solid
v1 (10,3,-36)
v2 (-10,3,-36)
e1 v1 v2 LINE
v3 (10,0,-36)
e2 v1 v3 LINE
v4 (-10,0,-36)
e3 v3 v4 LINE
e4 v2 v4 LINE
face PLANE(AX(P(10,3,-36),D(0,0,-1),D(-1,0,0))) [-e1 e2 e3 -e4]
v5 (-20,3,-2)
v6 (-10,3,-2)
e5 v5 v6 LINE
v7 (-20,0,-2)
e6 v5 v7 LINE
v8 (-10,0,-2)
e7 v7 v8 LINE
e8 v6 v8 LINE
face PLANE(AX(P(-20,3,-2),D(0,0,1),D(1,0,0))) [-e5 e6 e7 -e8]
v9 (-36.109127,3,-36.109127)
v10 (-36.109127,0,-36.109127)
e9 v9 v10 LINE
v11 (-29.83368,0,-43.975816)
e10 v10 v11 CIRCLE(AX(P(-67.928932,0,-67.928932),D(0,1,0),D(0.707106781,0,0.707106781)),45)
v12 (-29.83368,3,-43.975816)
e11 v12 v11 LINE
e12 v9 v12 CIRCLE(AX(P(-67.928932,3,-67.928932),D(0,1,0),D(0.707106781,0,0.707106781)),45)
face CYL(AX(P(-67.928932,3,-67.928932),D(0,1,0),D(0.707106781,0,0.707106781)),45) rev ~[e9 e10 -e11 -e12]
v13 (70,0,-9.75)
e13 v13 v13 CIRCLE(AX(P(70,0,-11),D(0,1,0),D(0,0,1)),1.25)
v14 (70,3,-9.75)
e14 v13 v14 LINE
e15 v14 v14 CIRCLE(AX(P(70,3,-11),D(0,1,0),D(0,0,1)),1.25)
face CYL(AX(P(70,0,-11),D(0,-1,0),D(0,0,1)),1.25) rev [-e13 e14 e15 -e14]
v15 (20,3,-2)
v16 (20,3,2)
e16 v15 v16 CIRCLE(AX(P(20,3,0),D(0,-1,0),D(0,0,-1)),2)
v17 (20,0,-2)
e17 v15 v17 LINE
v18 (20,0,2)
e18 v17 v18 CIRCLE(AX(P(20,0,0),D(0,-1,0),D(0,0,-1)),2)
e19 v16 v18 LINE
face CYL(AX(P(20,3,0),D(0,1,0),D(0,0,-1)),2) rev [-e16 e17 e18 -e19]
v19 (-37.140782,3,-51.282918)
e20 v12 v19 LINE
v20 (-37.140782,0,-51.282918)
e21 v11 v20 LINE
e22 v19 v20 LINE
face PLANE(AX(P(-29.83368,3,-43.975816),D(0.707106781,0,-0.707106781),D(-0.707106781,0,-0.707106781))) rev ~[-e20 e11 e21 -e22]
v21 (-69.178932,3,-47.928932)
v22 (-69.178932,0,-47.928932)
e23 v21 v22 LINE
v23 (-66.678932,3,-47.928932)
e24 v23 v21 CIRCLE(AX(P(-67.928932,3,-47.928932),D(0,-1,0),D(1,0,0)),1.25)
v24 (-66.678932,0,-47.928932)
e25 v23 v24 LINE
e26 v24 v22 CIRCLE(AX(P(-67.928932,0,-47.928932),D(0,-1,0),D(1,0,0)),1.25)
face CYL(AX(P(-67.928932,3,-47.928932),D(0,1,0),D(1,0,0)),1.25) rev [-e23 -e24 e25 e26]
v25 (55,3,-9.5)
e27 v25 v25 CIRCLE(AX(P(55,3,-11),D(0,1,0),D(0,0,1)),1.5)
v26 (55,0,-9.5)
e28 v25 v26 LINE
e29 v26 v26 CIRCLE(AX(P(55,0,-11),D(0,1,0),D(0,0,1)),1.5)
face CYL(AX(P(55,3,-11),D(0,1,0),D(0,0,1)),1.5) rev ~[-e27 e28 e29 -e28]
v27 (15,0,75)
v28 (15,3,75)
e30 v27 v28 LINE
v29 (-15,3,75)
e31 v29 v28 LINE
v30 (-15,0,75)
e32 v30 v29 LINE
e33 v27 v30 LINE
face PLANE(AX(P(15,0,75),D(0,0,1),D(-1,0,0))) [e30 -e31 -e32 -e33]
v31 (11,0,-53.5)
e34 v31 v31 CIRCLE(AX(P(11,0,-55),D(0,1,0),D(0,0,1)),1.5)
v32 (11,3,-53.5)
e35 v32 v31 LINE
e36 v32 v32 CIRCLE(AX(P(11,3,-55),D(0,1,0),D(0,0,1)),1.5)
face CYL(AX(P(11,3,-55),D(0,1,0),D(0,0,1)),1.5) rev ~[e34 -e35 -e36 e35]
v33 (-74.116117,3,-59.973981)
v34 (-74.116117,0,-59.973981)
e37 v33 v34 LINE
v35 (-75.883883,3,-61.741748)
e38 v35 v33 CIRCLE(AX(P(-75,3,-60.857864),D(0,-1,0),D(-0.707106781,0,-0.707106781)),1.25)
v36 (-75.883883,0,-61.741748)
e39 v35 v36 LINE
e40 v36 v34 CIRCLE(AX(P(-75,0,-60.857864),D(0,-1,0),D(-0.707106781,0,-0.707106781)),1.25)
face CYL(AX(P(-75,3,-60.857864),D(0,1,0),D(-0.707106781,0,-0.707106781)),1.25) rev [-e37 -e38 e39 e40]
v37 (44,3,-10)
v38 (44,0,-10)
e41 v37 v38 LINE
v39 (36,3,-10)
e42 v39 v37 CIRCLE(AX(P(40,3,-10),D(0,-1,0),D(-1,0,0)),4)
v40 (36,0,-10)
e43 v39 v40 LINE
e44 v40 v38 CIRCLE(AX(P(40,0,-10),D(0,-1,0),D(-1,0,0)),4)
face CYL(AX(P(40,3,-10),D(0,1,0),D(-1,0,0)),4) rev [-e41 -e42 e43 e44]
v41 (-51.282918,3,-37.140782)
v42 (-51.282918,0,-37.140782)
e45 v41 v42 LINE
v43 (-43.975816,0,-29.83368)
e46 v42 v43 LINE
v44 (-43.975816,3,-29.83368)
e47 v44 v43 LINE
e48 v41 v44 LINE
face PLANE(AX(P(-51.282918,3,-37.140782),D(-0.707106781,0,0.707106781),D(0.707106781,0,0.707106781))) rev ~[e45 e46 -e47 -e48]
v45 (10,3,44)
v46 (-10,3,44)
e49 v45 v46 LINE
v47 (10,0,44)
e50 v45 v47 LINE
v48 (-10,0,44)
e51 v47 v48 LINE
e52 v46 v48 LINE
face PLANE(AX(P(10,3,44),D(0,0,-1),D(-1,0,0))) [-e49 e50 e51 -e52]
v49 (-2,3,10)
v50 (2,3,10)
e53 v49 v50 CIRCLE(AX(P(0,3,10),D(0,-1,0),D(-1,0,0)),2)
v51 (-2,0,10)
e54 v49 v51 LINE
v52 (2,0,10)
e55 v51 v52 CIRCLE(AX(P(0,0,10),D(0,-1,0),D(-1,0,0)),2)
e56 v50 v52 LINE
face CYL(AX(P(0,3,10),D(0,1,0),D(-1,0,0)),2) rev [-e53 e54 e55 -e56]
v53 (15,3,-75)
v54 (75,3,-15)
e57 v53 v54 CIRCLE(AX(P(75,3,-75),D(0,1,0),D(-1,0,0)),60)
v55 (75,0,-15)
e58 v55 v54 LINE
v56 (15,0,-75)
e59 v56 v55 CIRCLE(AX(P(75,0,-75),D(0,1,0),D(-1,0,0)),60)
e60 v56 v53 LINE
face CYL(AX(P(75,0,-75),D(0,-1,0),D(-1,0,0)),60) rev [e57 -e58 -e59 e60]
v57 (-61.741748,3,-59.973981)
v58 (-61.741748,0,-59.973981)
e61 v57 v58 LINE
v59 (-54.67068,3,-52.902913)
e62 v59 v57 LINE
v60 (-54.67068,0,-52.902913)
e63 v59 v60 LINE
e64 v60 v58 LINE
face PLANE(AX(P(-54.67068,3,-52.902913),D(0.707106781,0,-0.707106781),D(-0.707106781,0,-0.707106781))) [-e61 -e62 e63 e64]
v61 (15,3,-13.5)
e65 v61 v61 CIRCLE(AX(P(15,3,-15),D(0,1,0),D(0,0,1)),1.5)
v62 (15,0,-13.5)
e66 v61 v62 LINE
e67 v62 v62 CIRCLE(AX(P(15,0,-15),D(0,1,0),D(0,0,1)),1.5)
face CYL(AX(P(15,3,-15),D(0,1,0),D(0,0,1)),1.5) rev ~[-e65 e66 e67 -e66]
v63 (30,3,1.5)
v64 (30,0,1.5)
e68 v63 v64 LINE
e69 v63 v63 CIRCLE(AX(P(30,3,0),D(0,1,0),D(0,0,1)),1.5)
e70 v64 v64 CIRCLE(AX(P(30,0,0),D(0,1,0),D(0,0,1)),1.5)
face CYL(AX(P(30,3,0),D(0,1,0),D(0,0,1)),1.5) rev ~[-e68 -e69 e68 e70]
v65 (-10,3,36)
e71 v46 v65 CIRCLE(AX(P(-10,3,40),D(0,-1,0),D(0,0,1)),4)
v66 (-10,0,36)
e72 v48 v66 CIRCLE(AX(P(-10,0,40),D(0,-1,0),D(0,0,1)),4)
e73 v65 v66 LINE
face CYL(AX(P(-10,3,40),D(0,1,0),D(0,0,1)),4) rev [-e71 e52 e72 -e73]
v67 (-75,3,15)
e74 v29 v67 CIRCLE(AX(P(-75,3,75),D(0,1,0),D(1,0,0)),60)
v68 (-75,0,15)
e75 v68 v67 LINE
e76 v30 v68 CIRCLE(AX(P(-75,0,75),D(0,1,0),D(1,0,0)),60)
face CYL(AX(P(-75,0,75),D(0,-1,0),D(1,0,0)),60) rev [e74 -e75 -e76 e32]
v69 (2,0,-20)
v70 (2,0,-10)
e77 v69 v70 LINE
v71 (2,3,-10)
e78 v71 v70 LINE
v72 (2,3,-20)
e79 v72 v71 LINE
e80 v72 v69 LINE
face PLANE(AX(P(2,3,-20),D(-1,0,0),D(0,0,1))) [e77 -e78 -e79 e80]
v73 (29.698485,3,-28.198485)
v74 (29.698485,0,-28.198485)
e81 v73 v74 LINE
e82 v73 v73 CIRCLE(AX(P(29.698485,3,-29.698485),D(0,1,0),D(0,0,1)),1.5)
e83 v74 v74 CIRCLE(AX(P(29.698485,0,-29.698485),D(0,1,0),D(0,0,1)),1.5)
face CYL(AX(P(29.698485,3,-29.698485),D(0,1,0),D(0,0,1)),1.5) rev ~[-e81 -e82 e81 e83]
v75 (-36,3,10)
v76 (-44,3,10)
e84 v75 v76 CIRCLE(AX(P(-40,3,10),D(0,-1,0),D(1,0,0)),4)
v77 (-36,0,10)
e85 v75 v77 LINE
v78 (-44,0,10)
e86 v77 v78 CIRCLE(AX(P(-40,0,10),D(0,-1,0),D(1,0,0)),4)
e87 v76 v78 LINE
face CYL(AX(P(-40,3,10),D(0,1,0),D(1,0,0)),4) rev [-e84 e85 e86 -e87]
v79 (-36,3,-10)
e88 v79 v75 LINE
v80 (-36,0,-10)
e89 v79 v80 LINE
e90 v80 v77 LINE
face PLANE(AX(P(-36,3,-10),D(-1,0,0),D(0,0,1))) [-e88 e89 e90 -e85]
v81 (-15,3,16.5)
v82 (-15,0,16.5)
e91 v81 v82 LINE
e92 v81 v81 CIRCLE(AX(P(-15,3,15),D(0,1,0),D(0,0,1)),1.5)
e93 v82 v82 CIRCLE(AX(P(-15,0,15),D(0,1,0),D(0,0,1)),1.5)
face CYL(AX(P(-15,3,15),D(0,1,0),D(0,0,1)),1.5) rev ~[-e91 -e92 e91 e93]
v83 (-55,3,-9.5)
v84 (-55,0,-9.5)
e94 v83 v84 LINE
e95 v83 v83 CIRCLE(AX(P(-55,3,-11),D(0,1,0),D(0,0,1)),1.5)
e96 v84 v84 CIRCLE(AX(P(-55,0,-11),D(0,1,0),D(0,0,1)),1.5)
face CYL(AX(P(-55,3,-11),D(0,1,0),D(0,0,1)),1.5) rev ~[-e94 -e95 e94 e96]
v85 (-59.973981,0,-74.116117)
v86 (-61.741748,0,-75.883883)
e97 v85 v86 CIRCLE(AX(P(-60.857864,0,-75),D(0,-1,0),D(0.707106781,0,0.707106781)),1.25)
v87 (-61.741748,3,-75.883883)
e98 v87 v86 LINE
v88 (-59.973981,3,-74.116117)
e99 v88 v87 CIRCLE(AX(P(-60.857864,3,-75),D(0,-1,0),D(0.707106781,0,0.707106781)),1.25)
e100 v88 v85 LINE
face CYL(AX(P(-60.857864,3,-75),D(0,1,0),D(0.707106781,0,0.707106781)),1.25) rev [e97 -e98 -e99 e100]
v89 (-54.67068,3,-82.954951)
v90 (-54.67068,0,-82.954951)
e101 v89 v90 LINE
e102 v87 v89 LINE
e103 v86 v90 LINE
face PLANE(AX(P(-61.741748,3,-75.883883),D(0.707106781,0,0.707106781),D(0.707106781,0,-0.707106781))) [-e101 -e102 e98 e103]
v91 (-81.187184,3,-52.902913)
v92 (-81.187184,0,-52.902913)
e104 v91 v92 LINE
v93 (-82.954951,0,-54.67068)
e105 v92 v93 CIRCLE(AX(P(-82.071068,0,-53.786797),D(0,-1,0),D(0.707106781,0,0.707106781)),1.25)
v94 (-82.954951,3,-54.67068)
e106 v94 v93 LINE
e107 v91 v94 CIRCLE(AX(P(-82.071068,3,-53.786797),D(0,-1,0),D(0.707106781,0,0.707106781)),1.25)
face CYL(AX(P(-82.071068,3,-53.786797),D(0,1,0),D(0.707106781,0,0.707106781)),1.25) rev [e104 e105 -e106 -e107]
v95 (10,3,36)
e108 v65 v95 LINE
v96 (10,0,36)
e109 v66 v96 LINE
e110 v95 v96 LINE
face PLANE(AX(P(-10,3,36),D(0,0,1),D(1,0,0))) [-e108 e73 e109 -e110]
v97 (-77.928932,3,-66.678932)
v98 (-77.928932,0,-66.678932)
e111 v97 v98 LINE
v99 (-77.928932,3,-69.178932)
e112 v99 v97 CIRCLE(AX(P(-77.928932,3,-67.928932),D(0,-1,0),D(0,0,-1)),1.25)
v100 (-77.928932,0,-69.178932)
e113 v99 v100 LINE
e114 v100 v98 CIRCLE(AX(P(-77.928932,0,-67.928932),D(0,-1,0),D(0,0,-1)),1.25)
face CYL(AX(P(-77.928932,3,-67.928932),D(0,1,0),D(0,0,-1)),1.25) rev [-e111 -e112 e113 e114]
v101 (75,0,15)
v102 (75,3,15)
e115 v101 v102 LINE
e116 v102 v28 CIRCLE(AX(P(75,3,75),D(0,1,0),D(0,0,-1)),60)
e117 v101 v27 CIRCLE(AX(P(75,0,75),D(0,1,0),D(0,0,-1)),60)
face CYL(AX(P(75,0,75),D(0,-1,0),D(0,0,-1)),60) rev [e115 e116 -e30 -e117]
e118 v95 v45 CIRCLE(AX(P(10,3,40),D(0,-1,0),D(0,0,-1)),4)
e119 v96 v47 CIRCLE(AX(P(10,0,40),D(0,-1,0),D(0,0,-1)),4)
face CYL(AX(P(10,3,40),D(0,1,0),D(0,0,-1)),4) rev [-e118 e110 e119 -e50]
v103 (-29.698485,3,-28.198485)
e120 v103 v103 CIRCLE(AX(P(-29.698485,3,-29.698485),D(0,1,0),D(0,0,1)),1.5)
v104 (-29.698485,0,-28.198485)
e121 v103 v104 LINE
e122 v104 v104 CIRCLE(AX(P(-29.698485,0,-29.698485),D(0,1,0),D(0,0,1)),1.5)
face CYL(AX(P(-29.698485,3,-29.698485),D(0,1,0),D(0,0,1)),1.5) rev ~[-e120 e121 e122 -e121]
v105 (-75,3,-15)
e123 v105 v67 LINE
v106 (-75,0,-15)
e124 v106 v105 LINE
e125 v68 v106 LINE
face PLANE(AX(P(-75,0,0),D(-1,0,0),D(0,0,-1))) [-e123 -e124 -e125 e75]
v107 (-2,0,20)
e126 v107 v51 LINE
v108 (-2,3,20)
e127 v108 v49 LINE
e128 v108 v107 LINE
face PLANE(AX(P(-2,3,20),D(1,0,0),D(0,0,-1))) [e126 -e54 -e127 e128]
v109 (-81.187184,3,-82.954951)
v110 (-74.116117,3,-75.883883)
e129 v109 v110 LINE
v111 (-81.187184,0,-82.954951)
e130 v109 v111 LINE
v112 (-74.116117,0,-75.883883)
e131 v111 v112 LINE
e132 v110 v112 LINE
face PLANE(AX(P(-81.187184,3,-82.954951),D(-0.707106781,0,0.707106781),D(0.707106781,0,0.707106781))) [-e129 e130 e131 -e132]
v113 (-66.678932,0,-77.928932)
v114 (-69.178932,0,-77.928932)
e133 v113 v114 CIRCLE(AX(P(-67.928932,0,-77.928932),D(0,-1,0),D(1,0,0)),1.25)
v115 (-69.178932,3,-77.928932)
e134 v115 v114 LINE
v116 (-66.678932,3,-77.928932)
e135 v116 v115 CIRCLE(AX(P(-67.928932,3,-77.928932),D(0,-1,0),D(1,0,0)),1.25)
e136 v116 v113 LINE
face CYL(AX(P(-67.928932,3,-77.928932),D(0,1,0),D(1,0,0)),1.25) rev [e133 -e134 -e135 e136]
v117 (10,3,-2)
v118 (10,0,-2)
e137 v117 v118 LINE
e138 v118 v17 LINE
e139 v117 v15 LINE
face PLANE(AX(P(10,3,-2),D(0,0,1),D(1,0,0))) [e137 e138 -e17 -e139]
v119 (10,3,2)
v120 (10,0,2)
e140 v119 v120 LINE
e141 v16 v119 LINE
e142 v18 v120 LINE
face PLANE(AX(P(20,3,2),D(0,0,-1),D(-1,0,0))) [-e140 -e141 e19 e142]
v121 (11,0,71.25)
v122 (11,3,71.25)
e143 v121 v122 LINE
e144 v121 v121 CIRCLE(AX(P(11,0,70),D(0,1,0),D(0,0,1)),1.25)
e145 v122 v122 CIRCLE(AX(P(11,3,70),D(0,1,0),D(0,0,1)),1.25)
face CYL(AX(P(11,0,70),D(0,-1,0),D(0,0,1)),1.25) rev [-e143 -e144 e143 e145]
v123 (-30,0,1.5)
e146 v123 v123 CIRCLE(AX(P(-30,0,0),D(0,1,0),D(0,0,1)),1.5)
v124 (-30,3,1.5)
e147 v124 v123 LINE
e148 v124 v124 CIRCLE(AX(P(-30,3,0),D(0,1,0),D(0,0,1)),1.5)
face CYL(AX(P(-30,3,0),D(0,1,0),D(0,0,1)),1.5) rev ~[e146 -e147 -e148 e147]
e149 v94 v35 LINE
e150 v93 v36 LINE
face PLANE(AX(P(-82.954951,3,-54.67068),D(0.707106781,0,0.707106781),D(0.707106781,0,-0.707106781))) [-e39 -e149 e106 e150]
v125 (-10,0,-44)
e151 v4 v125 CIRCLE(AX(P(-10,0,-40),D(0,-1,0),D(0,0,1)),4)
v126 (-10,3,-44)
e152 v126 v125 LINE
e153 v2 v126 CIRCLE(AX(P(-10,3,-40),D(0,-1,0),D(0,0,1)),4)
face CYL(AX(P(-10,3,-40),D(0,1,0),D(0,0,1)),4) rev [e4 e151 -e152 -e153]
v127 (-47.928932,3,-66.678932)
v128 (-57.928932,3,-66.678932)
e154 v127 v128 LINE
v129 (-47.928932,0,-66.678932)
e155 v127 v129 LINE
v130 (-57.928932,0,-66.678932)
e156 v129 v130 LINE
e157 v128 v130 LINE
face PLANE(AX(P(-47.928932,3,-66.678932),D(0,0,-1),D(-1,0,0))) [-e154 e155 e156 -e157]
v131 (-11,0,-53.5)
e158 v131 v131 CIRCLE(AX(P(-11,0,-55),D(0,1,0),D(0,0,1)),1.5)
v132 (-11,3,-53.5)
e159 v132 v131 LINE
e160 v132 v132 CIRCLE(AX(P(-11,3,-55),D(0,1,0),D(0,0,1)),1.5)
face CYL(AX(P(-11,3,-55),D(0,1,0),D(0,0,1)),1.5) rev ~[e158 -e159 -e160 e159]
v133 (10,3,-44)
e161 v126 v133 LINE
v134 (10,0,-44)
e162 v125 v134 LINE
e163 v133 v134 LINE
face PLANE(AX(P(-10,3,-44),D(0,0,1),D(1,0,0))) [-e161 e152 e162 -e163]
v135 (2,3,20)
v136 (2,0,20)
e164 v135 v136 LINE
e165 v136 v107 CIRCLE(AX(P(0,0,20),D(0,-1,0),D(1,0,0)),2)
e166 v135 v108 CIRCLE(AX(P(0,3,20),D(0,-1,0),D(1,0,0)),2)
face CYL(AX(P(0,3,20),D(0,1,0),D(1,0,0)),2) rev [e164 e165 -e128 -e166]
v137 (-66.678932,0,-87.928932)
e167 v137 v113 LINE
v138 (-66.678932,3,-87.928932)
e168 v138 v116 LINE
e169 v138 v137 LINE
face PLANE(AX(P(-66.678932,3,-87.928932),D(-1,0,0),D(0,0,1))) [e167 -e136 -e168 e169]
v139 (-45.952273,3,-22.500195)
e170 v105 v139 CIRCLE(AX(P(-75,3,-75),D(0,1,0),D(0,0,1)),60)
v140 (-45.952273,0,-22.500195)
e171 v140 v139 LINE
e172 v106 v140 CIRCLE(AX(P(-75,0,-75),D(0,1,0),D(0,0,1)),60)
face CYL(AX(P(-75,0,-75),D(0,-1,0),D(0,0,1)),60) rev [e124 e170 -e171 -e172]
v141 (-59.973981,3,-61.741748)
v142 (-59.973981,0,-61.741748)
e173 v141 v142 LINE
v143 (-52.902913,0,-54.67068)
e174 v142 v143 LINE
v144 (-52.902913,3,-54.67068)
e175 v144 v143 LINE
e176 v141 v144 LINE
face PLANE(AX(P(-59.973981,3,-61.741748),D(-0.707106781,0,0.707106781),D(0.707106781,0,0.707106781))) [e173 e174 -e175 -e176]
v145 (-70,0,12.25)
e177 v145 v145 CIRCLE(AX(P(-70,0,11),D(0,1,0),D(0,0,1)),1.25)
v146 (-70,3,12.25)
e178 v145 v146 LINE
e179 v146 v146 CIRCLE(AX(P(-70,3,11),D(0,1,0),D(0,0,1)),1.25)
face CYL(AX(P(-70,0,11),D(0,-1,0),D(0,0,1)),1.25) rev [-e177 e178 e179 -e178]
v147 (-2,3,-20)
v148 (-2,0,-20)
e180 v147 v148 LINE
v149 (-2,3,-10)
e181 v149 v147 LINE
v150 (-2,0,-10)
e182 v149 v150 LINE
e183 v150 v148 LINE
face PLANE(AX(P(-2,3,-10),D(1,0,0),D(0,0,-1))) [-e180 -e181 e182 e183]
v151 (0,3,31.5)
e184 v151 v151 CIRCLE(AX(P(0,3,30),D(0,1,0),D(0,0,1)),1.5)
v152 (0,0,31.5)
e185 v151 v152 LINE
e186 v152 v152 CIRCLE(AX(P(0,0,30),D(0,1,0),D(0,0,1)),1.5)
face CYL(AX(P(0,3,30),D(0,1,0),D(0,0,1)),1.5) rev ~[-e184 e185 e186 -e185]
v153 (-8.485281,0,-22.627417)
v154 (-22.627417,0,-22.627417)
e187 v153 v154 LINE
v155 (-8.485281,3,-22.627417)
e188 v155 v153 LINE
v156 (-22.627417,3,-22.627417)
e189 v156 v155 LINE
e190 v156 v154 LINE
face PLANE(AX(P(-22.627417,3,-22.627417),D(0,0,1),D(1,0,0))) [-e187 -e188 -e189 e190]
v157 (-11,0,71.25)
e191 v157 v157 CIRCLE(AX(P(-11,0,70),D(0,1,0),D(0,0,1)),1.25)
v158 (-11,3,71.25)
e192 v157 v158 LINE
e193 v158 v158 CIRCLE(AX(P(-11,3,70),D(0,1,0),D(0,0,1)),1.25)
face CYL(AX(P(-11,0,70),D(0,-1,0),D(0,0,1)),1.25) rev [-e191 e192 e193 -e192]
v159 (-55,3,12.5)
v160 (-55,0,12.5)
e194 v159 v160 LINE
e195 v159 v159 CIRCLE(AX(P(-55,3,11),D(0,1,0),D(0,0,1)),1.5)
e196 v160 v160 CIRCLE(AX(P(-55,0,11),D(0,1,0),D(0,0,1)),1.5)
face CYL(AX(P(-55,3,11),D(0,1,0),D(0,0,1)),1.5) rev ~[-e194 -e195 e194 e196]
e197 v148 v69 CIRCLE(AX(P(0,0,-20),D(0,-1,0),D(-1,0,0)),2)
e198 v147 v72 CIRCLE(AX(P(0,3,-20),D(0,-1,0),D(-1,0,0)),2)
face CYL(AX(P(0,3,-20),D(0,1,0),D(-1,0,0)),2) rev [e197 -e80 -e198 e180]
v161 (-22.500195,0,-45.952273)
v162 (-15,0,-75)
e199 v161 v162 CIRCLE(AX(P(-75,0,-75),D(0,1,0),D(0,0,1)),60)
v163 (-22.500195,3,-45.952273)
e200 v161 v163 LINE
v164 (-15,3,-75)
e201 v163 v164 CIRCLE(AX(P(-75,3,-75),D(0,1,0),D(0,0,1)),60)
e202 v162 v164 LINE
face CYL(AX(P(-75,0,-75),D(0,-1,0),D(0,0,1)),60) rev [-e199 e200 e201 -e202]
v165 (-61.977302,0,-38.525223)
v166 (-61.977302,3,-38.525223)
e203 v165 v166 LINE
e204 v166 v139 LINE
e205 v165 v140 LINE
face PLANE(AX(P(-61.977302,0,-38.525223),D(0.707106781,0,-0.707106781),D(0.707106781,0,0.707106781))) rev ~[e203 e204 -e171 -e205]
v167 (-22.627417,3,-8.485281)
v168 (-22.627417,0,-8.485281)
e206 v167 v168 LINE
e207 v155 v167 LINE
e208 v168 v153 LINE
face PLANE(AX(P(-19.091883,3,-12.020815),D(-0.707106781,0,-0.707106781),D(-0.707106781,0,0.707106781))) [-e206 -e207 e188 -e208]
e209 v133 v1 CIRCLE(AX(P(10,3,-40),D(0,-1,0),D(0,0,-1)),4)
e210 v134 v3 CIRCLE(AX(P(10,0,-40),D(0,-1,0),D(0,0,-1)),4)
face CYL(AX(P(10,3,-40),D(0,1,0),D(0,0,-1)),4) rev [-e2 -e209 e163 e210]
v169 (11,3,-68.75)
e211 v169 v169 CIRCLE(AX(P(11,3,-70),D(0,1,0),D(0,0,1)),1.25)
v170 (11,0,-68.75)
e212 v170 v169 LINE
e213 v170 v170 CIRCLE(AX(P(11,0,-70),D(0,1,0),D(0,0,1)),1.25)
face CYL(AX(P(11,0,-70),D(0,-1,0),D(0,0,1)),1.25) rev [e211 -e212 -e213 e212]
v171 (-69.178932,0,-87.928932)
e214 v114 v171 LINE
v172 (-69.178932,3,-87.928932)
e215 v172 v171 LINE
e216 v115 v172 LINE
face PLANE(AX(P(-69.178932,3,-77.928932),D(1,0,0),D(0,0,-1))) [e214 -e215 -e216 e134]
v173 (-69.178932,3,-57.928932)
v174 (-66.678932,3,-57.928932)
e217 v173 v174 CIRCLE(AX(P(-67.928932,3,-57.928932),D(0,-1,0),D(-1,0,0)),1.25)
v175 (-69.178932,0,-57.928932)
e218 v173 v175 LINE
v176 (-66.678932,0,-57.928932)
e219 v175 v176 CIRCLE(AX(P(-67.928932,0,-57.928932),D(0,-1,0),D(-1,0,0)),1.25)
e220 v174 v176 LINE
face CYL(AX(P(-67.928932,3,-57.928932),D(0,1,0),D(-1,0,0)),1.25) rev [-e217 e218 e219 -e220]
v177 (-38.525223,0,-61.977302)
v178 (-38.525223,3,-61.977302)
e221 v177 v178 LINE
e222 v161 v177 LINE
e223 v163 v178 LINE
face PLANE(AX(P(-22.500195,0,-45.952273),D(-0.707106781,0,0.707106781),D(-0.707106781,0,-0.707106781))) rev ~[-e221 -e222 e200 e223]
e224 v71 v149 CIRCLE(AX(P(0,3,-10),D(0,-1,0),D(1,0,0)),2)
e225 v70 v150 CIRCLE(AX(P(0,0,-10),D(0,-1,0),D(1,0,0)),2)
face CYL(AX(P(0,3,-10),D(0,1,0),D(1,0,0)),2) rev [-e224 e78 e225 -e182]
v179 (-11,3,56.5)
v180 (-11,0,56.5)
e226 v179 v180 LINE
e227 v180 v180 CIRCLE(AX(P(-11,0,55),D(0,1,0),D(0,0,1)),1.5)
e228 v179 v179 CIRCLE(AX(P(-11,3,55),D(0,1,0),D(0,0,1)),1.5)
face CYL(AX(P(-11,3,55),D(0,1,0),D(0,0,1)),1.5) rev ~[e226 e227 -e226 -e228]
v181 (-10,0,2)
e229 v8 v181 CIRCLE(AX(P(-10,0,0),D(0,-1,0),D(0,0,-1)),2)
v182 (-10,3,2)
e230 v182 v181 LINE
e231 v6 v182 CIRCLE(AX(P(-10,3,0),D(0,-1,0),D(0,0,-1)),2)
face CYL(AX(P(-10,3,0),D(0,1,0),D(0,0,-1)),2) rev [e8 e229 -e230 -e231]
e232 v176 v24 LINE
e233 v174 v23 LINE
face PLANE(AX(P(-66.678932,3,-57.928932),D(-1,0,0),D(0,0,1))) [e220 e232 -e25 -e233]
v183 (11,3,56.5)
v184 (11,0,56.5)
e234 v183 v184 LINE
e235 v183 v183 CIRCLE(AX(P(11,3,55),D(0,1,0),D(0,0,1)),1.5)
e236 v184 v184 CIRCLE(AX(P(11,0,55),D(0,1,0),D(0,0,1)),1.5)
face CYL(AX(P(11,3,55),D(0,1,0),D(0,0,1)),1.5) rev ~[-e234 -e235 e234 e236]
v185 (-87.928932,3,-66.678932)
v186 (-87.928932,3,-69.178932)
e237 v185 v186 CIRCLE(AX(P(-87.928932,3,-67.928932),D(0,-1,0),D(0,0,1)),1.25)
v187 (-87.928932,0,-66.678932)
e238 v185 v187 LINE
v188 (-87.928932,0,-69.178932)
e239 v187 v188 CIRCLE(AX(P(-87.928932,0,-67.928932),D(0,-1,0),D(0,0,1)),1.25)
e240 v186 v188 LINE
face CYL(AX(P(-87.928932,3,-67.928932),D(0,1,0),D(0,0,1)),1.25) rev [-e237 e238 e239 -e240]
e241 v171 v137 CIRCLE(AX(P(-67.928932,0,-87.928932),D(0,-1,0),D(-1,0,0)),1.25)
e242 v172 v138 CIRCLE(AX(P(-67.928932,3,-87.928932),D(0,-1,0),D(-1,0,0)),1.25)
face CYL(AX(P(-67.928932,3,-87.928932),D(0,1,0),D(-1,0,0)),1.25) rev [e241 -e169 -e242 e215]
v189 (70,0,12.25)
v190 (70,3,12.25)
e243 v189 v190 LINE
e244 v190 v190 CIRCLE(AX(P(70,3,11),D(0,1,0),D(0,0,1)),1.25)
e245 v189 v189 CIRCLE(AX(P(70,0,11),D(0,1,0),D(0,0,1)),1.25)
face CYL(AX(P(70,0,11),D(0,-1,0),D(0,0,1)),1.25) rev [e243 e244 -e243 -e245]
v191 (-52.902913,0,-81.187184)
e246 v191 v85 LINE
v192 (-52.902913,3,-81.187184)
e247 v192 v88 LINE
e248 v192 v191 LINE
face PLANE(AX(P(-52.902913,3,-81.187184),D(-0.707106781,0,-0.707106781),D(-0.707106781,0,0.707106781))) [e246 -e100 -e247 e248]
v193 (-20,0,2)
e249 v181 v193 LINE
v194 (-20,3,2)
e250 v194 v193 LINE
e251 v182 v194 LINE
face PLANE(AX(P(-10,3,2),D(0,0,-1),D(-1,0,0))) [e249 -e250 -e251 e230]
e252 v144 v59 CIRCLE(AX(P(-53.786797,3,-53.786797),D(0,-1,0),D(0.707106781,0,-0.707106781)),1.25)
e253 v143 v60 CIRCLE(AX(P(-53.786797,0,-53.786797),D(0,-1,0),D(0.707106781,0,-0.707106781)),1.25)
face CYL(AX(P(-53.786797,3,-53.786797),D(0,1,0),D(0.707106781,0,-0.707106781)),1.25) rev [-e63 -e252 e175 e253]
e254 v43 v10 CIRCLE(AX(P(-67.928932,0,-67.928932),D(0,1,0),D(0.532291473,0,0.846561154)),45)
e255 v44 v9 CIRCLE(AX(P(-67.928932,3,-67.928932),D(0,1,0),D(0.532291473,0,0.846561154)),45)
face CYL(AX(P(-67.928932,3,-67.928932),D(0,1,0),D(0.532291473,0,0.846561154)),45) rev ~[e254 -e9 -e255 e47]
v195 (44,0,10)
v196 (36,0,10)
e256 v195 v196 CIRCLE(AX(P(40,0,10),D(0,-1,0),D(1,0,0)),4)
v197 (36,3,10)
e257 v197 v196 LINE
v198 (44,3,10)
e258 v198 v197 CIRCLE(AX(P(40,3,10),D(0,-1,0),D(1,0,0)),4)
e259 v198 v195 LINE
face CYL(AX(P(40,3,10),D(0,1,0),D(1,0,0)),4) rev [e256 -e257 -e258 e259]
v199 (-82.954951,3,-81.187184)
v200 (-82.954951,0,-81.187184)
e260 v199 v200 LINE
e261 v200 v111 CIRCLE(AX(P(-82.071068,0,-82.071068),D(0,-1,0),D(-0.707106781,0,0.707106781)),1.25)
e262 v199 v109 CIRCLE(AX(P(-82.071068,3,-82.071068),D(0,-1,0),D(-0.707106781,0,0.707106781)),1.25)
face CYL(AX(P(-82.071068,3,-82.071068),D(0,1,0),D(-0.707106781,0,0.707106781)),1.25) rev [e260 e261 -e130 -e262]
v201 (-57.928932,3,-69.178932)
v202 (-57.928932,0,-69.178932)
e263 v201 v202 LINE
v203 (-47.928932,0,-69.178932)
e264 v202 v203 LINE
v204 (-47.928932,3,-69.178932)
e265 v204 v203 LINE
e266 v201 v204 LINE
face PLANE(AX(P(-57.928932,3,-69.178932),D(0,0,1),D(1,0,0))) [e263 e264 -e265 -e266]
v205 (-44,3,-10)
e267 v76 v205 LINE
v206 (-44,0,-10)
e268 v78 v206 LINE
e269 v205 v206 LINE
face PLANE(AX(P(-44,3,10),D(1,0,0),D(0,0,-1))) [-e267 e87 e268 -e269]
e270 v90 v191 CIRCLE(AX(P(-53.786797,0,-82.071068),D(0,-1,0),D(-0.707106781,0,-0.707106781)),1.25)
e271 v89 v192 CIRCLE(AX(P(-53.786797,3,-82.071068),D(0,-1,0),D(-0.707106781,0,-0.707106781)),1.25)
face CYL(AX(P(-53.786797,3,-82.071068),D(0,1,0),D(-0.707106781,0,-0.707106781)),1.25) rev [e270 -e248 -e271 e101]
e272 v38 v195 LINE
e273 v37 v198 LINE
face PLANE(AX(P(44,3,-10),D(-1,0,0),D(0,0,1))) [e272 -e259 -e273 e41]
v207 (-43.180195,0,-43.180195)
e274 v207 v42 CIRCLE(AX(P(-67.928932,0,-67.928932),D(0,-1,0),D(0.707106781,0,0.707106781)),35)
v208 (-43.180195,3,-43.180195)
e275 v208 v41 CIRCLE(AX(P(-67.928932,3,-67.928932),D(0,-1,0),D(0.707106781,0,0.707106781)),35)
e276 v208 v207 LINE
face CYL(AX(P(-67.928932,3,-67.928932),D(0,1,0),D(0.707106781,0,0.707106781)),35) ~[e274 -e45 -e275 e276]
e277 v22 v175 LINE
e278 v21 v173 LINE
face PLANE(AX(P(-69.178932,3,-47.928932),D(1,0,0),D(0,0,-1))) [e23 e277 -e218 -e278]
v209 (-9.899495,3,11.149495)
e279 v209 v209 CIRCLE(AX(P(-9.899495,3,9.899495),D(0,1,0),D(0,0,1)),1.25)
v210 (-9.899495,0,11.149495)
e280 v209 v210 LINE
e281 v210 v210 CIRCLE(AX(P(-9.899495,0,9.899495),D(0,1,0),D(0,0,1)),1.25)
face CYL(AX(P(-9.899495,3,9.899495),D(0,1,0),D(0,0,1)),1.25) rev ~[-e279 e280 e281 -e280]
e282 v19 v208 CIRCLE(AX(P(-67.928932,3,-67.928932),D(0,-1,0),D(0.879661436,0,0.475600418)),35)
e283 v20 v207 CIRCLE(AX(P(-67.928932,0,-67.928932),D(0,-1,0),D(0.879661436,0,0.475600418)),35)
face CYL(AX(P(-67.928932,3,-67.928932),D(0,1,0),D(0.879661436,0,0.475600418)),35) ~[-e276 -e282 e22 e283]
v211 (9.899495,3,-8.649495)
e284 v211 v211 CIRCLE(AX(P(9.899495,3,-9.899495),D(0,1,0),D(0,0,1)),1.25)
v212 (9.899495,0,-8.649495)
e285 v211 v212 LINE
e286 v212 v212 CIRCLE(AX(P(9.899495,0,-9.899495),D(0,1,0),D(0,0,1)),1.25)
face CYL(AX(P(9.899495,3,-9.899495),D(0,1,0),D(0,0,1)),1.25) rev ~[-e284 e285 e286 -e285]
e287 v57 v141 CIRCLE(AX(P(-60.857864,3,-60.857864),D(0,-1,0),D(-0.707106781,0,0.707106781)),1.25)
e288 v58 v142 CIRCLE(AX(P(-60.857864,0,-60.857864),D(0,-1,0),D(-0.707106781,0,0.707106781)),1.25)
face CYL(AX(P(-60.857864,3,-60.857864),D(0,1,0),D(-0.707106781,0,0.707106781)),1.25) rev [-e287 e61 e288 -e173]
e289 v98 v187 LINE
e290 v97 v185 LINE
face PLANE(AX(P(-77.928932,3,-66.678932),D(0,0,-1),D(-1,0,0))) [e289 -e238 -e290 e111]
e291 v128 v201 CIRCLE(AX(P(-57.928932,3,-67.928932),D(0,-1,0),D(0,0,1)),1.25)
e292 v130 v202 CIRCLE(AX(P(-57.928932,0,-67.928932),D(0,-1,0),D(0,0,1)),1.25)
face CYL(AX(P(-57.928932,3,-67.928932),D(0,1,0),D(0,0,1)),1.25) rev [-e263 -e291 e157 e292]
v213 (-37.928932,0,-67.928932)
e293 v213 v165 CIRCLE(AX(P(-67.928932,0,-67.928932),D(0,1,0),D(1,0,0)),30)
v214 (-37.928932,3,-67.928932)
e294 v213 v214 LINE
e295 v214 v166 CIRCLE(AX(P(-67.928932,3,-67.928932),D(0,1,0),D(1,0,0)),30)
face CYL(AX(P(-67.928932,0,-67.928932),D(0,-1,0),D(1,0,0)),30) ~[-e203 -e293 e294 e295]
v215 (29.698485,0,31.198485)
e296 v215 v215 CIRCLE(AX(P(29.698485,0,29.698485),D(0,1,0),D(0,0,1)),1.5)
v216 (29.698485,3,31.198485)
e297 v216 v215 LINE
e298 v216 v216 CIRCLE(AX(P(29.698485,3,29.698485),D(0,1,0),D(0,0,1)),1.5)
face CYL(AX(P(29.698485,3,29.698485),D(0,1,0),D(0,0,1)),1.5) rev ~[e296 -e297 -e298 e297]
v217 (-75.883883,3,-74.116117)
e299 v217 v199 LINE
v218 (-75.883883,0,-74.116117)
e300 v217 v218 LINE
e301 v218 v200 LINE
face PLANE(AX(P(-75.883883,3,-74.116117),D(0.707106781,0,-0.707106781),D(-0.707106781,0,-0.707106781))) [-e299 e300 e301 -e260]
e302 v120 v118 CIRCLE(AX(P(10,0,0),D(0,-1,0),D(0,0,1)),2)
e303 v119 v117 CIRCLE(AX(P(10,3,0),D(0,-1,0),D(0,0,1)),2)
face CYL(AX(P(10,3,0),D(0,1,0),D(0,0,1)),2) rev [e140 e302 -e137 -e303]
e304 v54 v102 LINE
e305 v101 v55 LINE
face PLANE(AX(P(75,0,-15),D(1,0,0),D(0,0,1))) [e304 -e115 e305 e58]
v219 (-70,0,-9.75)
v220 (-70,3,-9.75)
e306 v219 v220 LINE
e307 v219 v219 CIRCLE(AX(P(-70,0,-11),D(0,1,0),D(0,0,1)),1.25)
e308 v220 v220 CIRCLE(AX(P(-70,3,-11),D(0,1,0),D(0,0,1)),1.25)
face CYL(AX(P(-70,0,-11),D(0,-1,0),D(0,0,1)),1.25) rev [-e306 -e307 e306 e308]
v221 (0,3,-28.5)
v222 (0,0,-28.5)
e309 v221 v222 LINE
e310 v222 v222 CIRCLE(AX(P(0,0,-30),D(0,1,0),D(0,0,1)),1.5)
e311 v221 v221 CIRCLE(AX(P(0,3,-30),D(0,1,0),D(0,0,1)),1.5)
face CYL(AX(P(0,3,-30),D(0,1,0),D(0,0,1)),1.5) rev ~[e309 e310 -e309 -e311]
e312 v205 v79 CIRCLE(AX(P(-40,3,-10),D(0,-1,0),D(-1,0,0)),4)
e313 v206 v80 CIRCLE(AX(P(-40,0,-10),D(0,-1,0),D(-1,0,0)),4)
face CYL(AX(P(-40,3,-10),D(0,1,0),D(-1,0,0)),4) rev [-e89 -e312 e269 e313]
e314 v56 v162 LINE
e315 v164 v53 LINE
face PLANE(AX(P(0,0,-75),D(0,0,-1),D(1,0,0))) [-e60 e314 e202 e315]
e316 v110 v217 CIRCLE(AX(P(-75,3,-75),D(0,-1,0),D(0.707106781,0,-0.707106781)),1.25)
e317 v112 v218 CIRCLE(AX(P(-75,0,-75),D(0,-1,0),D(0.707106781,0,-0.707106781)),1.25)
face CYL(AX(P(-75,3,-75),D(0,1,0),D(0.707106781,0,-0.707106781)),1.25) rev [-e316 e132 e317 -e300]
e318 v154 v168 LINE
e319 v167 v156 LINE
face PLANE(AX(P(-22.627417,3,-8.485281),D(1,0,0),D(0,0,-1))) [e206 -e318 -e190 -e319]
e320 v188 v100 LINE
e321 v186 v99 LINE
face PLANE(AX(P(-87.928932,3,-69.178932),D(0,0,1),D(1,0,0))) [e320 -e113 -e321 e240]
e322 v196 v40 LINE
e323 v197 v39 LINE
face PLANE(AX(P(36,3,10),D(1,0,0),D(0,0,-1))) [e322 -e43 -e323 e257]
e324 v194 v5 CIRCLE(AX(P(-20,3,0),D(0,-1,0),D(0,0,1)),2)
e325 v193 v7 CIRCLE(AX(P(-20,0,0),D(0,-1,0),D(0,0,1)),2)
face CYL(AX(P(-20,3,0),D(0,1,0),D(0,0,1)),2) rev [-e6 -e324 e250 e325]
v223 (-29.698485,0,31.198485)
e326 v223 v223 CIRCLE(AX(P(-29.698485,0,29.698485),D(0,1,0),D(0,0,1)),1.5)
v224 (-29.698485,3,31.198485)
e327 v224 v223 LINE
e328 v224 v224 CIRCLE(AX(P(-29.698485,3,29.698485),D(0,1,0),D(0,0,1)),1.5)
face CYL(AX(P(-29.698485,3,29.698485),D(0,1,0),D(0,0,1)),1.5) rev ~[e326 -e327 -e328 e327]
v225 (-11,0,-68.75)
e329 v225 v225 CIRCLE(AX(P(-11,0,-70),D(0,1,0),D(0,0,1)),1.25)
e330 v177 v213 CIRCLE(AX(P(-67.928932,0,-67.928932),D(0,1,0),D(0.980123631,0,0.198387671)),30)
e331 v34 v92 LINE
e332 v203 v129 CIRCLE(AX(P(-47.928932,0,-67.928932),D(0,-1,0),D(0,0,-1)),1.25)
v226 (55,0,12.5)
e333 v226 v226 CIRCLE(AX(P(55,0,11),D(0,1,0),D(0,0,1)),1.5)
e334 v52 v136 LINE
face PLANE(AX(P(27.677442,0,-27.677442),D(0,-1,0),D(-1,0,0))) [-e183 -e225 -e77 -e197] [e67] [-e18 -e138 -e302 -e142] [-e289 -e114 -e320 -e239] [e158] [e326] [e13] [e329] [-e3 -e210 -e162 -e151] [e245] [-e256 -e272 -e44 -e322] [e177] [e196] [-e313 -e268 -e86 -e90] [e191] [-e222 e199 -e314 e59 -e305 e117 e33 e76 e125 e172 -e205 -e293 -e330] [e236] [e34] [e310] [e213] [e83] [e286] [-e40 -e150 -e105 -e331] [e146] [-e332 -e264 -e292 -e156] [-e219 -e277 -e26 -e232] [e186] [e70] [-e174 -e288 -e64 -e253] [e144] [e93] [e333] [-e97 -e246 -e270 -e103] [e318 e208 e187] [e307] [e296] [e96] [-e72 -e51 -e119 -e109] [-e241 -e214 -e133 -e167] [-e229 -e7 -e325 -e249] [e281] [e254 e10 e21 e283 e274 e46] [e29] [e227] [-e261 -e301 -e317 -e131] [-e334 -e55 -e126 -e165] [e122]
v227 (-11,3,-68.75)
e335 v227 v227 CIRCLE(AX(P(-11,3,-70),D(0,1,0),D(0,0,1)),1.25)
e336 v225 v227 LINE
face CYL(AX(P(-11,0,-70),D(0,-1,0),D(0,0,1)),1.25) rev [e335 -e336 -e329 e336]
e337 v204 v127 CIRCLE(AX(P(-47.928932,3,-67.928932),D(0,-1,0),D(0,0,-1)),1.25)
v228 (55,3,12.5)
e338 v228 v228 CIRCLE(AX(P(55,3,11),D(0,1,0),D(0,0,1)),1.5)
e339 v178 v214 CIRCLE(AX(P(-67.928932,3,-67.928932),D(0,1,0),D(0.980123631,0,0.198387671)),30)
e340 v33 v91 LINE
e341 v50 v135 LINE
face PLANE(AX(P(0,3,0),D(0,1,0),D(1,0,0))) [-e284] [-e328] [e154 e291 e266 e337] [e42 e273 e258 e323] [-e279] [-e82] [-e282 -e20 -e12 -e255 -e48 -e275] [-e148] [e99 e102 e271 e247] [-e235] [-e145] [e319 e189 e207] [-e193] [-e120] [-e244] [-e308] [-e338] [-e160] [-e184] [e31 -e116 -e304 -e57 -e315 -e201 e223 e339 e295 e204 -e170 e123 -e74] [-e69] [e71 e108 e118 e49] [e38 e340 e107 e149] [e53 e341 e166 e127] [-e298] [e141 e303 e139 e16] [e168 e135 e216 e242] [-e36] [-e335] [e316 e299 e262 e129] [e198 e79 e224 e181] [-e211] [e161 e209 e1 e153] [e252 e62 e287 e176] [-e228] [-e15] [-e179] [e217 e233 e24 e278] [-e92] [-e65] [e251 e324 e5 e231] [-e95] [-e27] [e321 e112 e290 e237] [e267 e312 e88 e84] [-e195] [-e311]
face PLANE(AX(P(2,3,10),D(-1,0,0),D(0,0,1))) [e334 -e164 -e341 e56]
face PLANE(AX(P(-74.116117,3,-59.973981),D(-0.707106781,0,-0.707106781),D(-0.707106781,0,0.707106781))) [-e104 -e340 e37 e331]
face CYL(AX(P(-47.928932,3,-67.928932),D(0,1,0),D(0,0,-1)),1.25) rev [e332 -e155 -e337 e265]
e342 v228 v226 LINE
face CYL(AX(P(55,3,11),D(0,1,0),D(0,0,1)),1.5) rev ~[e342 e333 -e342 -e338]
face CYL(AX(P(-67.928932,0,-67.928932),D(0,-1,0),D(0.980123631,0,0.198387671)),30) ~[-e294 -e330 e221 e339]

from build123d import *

# Parameters (mm, degrees)
SKETCH_1_R               = 1.25
EXTRUDE_1_DEPTH          = 3
SKETCH_2_R               = 1.5
CUT_EXTRUDE_1_DEPTH      = 3
CUT_EXTRUDE_2_DEPTH      = 3
CUT_EXTRUDE_3_DEPTH      = 3
CUT_EXTRUDE_4_DEPTH      = 10
SKETCH_6_R               = 1.5
CUT_EXTRUDE_5_DEPTH      = 10
SKETCH_7_R               = 1.5
CUT_EXTRUDE_8_DEPTH      = 10
SKETCH_8_R               = 1.5
CUT_EXTRUDE_9_DEPTH      = 10
SKETCH_9_R               = 15
CUT_EXTRUDE_10_DEPTH     = 10
SKETCH_11_R              = 1.5
EXTRUDE_3_DEPTH          = 3
CUT_EXTRUDE_12_DEPTH     = 3
EXTRUDE_4_DEPTH          = 3
SKETCH_15_R              = 15
EXTRUDE_5_DEPTH          = 3
CUT_EXTRUDE_13_DEPTH     = 3
EXTRUDE_START            = -3
EXTRUDE_7_DEPTH          = 3
CUT_EXTRUDE_14_DEPTH     = 3
CUT_EXTRUDE_15_DEPTH     = 3
PATTERN_CIRCULAR_1_COUNT = 8
SKETCH_22_R              = 1.25
CUT_EXTRUDE_17_DEPTH     = 3
SKETCH_23_R              = 1.5
CUT_EXTRUDE_18_DEPTH     = 10
SKETCH_24_R              = 1.5
CUT_EXTRUDE_19_DEPTH     = 10


with BuildPart() as part:
    # 草图1 → 凸台-拉伸1 (new body)
    # profile 1 of 4: a face of its own
    with BuildSketch(Plane(origin=(0, 0, 0), x_dir=(1, 0, 0), z_dir=(0, 1, 0))):
        with BuildLine():
            ThreePointArc((75, -15), (32.573593129, -32.573593129), (15, -75))
            Line((15, -75), (0, -75))
            Line((0, -75), (0, 0))
            Line((0, 0), (75, 0))
            Line((75, 0), (75, -15))
        make_face()
        with Locations(Location((11, -70, 0), (0, 0, 270))):
            Circle(SKETCH_1_R, mode=Mode.SUBTRACT)
        with Locations(Location((70, -11, 0), (0, 0, 270))):
            Circle(SKETCH_1_R, mode=Mode.SUBTRACT)
    # profile 2 of 4: a face of its own
    with BuildSketch(Plane(origin=(0, 0, 0), x_dir=(1, 0, 0), z_dir=(0, 1, 0))):
        with BuildLine():
            ThreePointArc((-15, -75), (-32.573593129, -32.573593129), (-75, -15))
            Line((-75, -15), (-75, 0))
            Line((-75, 0), (0, 0))
            Line((0, 0), (0, -75))
            Line((0, -75), (-15, -75))
        make_face()
        with Locations(Location((-70, -11, 0), (0, 0, 270))):
            Circle(SKETCH_1_R, mode=Mode.SUBTRACT)
        with Locations(Location((-11, -70, 0), (0, 0, 270))):
            Circle(SKETCH_1_R, mode=Mode.SUBTRACT)
    # profile 3 of 4: a face of its own
    with BuildSketch(Plane(origin=(0, 0, 0), x_dir=(1, 0, 0), z_dir=(0, 1, 0))):
        with BuildLine():
            ThreePointArc((-75, 15), (-32.573593129, 32.573593129), (-15, 75))
            Line((-15, 75), (0, 75))
            Line((0, 75), (0, 0))
            Line((0, 0), (-75, 0))
            Line((-75, 0), (-75, 15))
        make_face()
        with Locations(Location((-11, 70, 0), (0, 0, 270))):
            Circle(SKETCH_1_R, mode=Mode.SUBTRACT)
        with Locations(Location((-70, 11, 0), (0, 0, 270))):
            Circle(SKETCH_1_R, mode=Mode.SUBTRACT)
    # profile 4 of 4: a face of its own
    with BuildSketch(Plane(origin=(0, 0, 0), x_dir=(1, 0, 0), z_dir=(0, 1, 0))):
        with BuildLine():
            ThreePointArc((15, 75), (32.573593129, 32.573593129), (75, 15))
            Line((75, 15), (75, 0))
            Line((75, 0), (0, 0))
            Line((0, 0), (0, 75))
            Line((0, 75), (15, 75))
        make_face()
        with Locations(Location((70, 11, 0), (0, 0, 270))):
            Circle(SKETCH_1_R, mode=Mode.SUBTRACT)
        with Locations(Location((11, 70, 0), (0, 0, 270))):
            Circle(SKETCH_1_R, mode=Mode.SUBTRACT)
    extrude(amount=EXTRUDE_1_DEPTH)

    # 草图2 → 切除-拉伸1 (cut)
    with BuildSketch(Plane.XZ):
        with Locations(Location((0.353553391, -31.466251763, 0), (0, 0, 270))):
            Circle(SKETCH_2_R)
        with Locations(Location((31.466251763, -0.353553391, 0), (0, 0, 270))):
            Circle(SKETCH_2_R)
        with Locations(Location((-0.353553391, 31.466251763, 0), (0, 0, 90))):
            Circle(SKETCH_2_R)
        with Locations(Location((-31.466251763, 0.353553391, 0), (0, 0, 90))):
            Circle(SKETCH_2_R)
    extrude(amount=-CUT_EXTRUDE_1_DEPTH, mode=Mode.SUBTRACT)

    # 草图3 → 切除-拉伸2 (cut)
    with BuildSketch(Plane(origin=(0, 3, 0), x_dir=(1, 0, 0), z_dir=(0, 1, 0))):
        Polygon((-15.556349186, 15.556349186), (-12.02081528, 19.091883092), (-22.627416998, 22.627416998), align=None)
        Polygon((-19.091883092, 12.02081528), (-15.556349186, 15.556349186), (-22.627416998, 22.627416998), align=None)
    extrude(amount=-CUT_EXTRUDE_2_DEPTH, mode=Mode.SUBTRACT)

    # 草图4 → 切除-拉伸3 (cut)
    with BuildSketch(Plane(origin=(0, 3, 0), x_dir=(1, 0, 0), z_dir=(0, 1, 0))):
        with BuildLine():
            ThreePointArc((33.944668714, -19.80253309), (34.043922781, -8.582763971), (22.827665534, -8.285032838))
            Line((22.827665534, -8.285032838), (15.556349186, -15.556349186))
            Line((15.556349186, -15.556349186), (8.285032838, -22.827665534))
            ThreePointArc((8.285032838, -22.827665534), (8.582763971, -34.043922781), (19.80253309, -33.944668714))
            Line((19.80253309, -33.944668714), (33.944668714, -19.80253309))
        make_face()
    extrude(amount=-CUT_EXTRUDE_3_DEPTH, mode=Mode.SUBTRACT)

    # 草图5 → 切除-拉伸4 (cut)
    with BuildSketch(Plane(origin=(0, 3, 0), x_dir=(1, 0, 0), z_dir=(0, 1, 0))):
        Polygon((-22.627416998, 8.485281374), (-22.627416998, 22.627416998), (-19.091883092, 12.02081528), align=None)
        Polygon((-12.02081528, 19.091883092), (-22.627416998, 22.627416998), (-8.485281374, 22.627416998), align=None)
    extrude(amount=-CUT_EXTRUDE_4_DEPTH, mode=Mode.SUBTRACT)

    # 草图6 → 切除-拉伸5 (cut)
    with BuildSketch(Plane(origin=(0, 3, 0), x_dir=(1, 0, 0), z_dir=(0, 1, 0))):
        with Locations(Location((-35.355339059, -21.213203436, 0), (0, 0, 270))):
            Circle(SKETCH_6_R)
        with Locations(Location((-21.213203436, -35.355339059, 0), (0, 0, 270))):
            Circle(SKETCH_6_R)
        with Locations(Location((35.355339059, 21.213203436, 0), (0, 0, 270))):
            Circle(SKETCH_6_R)
        with Locations(Location((21.213203436, 35.355339059, 0), (0, 0, 270))):
            Circle(SKETCH_6_R)
    extrude(amount=-CUT_EXTRUDE_5_DEPTH, mode=Mode.SUBTRACT)

    # 草图7 → 切除-拉伸8 (cut)
    with BuildSketch(Plane(origin=(0, 3, 0), x_dir=(1, 0, 0), z_dir=(0, 1, 0))):
        with Locations(Location((-29.69848481, 29.69848481, 0), (0, 0, 270))):
            Circle(SKETCH_7_R)
        with Locations(Location((29.69848481, 29.69848481, 0), (0, 0, 270))):
            Circle(SKETCH_7_R)
        with Locations(Location((29.69848481, -29.69848481, 0), (0, 0, 270))):
            Circle(SKETCH_7_R)
        with Locations(Location((-29.69848481, -29.69848481, 0), (0, 0, 270))):
            Circle(SKETCH_7_R)
    extrude(amount=-CUT_EXTRUDE_8_DEPTH, mode=Mode.SUBTRACT)

    # 草图8 → 切除-拉伸9 (cut)
    with BuildSketch(Plane(origin=(0, 3, 0), x_dir=(1, 0, 0), z_dir=(0, 1, 0))):
        with Locations(Location((-11, 55, 0), (0, 0, 270))):
            Circle(SKETCH_8_R)
        with Locations(Location((11, 55, 0), (0, 0, 270))):
            Circle(SKETCH_8_R)
        with Locations(Location((55, 11, 0), (0, 0, 270))):
            Circle(SKETCH_8_R)
        with Locations(Location((55, -11, 0), (0, 0, 270))):
            Circle(SKETCH_8_R)
        with Locations(Location((11, -55, 0), (0, 0, 270))):
            Circle(SKETCH_8_R)
        with Locations(Location((-11, -55, 0), (0, 0, 270))):
            Circle(SKETCH_8_R)
        with Locations(Location((-55, -11, 0), (0, 0, 270))):
            Circle(SKETCH_8_R)
        with Locations(Location((-55, 11, 0), (0, 0, 270))):
            Circle(SKETCH_8_R)
    extrude(amount=-CUT_EXTRUDE_9_DEPTH, mode=Mode.SUBTRACT)

    # 草图9 → 切除-拉伸10 (cut)
    with BuildSketch(Plane(origin=(0, 3, 0), x_dir=(1, 0, 0), z_dir=(0, 1, 0))):
        with Locations(Location((0, 0, 0), (0, 0, 270))):
            Circle(SKETCH_9_R)
    extrude(amount=-CUT_EXTRUDE_10_DEPTH, mode=Mode.SUBTRACT)

    # 草图11 → 凸台-拉伸3 (add)
    with BuildSketch(Plane(origin=(0, 3, 0), x_dir=(1, 0, 0), z_dir=(0, 1, 0))):
        with Locations((-35.355339059, -21.213203436)):
            Circle(SKETCH_11_R)
        with Locations((35.355339059, 21.213203436)):
            Circle(SKETCH_11_R)
        with Locations((21.213203436, 35.355339059)):
            Circle(SKETCH_11_R)
        with Locations((0.353553391, 31.466251763)):
            Circle(SKETCH_11_R)
        with Locations((31.466251763, 0.353553391)):
            Circle(SKETCH_11_R)
        with Locations((-0.353553391, -31.466251763)):
            Circle(SKETCH_11_R)
        with Locations((-31.466251763, -0.353553391)):
            Circle(SKETCH_11_R)
        with Locations((-21.213203436, -35.355339059)):
            Circle(SKETCH_11_R)
    extrude(amount=-EXTRUDE_3_DEPTH)

    # 草图12 → 切除-拉伸12 (cut)
    with BuildSketch(Plane(origin=(0, 3, 0), x_dir=(1, 0, 0), z_dir=(0, 1, 0))):
        with BuildLine():
            Line((-44, -10), (-44, 10))
            ThreePointArc((-44, 10), (-40, 14), (-36, 10))
            Line((-36, 10), (-36, -10))
            ThreePointArc((-36, -10), (-40, -14), (-44, -10))
        make_face()
        with BuildLine():
            Line((-10, 44), (10, 44))
            ThreePointArc((10, 44), (14, 40), (10, 36))
            Line((10, 36), (-10, 36))
            ThreePointArc((-10, 36), (-14, 40), (-10, 44))
        make_face()
        with BuildLine():
            Line((44, 10), (44, -10))
            ThreePointArc((44, -10), (40, -14), (36, -10))
            Line((36, -10), (36, 10))
            ThreePointArc((36, 10), (40, 14), (44, 10))
        make_face()
        with BuildLine():
            Line((10, -44), (-10, -44))
            ThreePointArc((-10, -44), (-14, -40), (-10, -36))
            Line((-10, -36), (10, -36))
            ThreePointArc((10, -36), (14, -40), (10, -44))
        make_face()
    extrude(amount=-CUT_EXTRUDE_12_DEPTH, mode=Mode.SUBTRACT)

    # 草图14 → 凸台-拉伸4 (add)
    with BuildSketch(Plane(origin=(0, 3, 0), x_dir=(1, 0, 0), z_dir=(0, 1, 0))):
        with BuildLine():
            ThreePointArc((32.185650849, -7.152183109), (27.322232167, -6.195143755), (22.827665534, -8.285032838))
            Line((22.827665534, -8.285032838), (21.61516096, -18.569682002))
            ThreePointArc((21.61516096, -18.569682002), (27.487806659, -22.107425519), (33.944668714, -19.80253309))
            ThreePointArc((33.944668714, -19.80253309), (35.679936943, -17.205520658), (36.289282113, -14.142135624))
            ThreePointArc((36.289282113, -14.142135624), (35.187559777, -10.089382679), (32.185650849, -7.152183109))
        make_face()
        with BuildLine():
            Line((22.827665534, -8.285032838), (22.427168462, -8.685529911))
            ThreePointArc((22.427168462, -8.685529911), (20.306137435, -13.486712231), (21.61516096, -18.569682002))
            Line((21.61516096, -18.569682002), (22.827665534, -8.285032838))
        make_face()
        with BuildLine():
            Line((22.427168462, -8.685529911), (8.285032838, -22.827665534))
            ThreePointArc((8.285032838, -22.827665534), (8.582763971, -34.043922781), (19.80253309, -33.944668714))
            Line((19.80253309, -33.944668714), (21.61516096, -18.569682002))
            ThreePointArc((21.61516096, -18.569682002), (20.306137435, -13.486712231), (22.427168462, -8.685529911))
        make_face()
        with BuildLine():
            Line((21.61516096, -18.569682002), (19.80253309, -33.944668714))
            Line((19.80253309, -33.944668714), (33.944668714, -19.80253309))
            ThreePointArc((33.944668714, -19.80253309), (27.487806659, -22.107425519), (21.61516096, -18.569682002))
        make_face()
    extrude(amount=-EXTRUDE_4_DEPTH)

    # 草图15 → 凸台-拉伸5 (add)
    with BuildSketch(Plane(origin=(0, 3, 0), x_dir=(1, 0, 0), z_dir=(0, 1, 0))):
        Circle(SKETCH_15_R)
    extrude(amount=-EXTRUDE_5_DEPTH)

    # 草图17 → 切除-拉伸13 (cut)
    with BuildSketch(Plane(origin=(0, 3, 0), x_dir=(1, 0, 0), z_dir=(0, 1, 0))):
        with BuildLine():
            Line((-2, -20), (-2, -10))
            ThreePointArc((-2, -10), (0, -8), (2, -10))
            Line((2, -10), (2, -20))
            ThreePointArc((2, -20), (0, -22), (-2, -20))
        make_face()
        with BuildLine():
            Line((-20, 2), (-10, 2))
            ThreePointArc((-10, 2), (-8, 0), (-10, -2))
            Line((-10, -2), (-20, -2))
            ThreePointArc((-20, -2), (-22, 0), (-20, 2))
        make_face()
        with BuildLine():
            Line((2, 20), (2, 10))
            ThreePointArc((2, 10), (0, 8), (-2, 10))
            Line((-2, 10), (-2, 20))
            ThreePointArc((-2, 20), (0, 22), (2, 20))
        make_face()
        with BuildLine():
            Line((20, -2), (10, -2))
            ThreePointArc((10, -2), (8, 0), (10, 2))
            Line((10, 2), (20, 2))
            ThreePointArc((20, 2), (22, 0), (20, -2))
        make_face()
    extrude(amount=-CUT_EXTRUDE_13_DEPTH, mode=Mode.SUBTRACT)

    # 草图18 → 凸台-拉伸7 (add)
    with BuildSketch(Plane(origin=(0, 3, 0), x_dir=(1, 0, 0), z_dir=(0, 1, 0)).offset(EXTRUDE_START)):
        with BuildLine():
            Line((-61.977302058, 38.525223259), (-50.251262658, 50.251262658))
            Line((-50.251262658, 50.251262658), (-38.525223259, 61.977302058))
            ThreePointArc((-38.525223259, 61.977302058), (-38.078377186, 64.938218885), (-37.928932188, 67.928932188))
            ThreePointArc((-37.928932188, 67.928932188), (-91.15121571, 86.921708395), (-61.977302058, 38.525223259))
        make_face()
        with BuildLine():
            ThreePointArc((-61.977302058, 38.525223259), (-53.742560533, 41.49511182), (-46.715728753, 46.715728753))
            Line((-46.715728753, 46.715728753), (-50.251262658, 50.251262658))
            Line((-50.251262658, 50.251262658), (-61.977302058, 38.525223259))
        make_face()
        with BuildLine():
            Line((-50.251262658, 50.251262658), (-46.715728753, 46.715728753))
            ThreePointArc((-46.715728753, 46.715728753), (-41.49511182, 53.742560534), (-38.525223259, 61.977302058))
            Line((-38.525223259, 61.977302058), (-50.251262658, 50.251262658))
        make_face()
        with BuildLine():
            ThreePointArc((-45.952273324, 22.500194525), (-38.909748111, 27.067821679), (-32.573593129, 32.573593129))
            Line((-32.573593129, 32.573593129), (-46.715728753, 46.715728753))
            ThreePointArc((-46.715728753, 46.715728753), (-53.742560533, 41.49511182), (-61.977302058, 38.525223259))
            Line((-61.977302058, 38.525223259), (-45.952273324, 22.500194525))
        make_face()
        with BuildLine():
            Line((-46.715728753, 46.715728753), (-32.573593129, 32.573593129))
            ThreePointArc((-32.573593129, 32.573593129), (-27.067821679, 38.909748111), (-22.500194525, 45.952273324))
            Line((-22.500194525, 45.952273324), (-38.525223259, 61.977302058))
            ThreePointArc((-38.525223259, 61.977302058), (-41.49511182, 53.742560534), (-46.715728753, 46.715728753))
        make_face()
    extrude(amount=EXTRUDE_7_DEPTH)

    # 草图19 → 切除-拉伸14 (cut)
    with BuildSketch(Plane(origin=(0, 3, 0), x_dir=(1, 0, 0), z_dir=(0, 1, 0))):
        with BuildLine():
            ThreePointArc((-37.140781925, 51.282917549), (-39.866501787, 47.012431525), (-43.180194847, 43.180194847))
            Line((-43.180194847, 43.180194847), (-36.109127035, 36.109127035))
            ThreePointArc((-36.109127035, 36.109127035), (-32.750813989, 39.866501787), (-29.833680261, 43.975815885))
            Line((-29.833680261, 43.975815885), (-37.140781925, 51.282917549))
        make_face()
        with BuildLine():
            Line((-36.109127035, 36.109127035), (-43.180194847, 43.180194847))
            ThreePointArc((-43.180194847, 43.180194847), (-47.012431525, 39.866501787), (-51.282917549, 37.140781925))
            Line((-51.282917549, 37.140781925), (-43.975815885, 29.833680261))
            ThreePointArc((-43.975815885, 29.833680261), (-39.866501787, 32.750813989), (-36.109127035, 36.109127035))
        make_face()
    extrude(amount=-CUT_EXTRUDE_14_DEPTH, mode=Mode.SUBTRACT)

    # 草图21 → 切除-拉伸15 (cut)
    with BuildSketch(Plane(origin=(0, 3, 0), x_dir=(1, 0, 0), z_dir=(0, 1, 0))):
        with BuildLine():
            Line((-81.187184335, 82.954951288), (-74.116116524, 75.883883476))
            ThreePointArc((-74.116116524, 75.883883476), (-74.116116524, 74.116116524), (-75.883883476, 74.116116524))
            Line((-75.883883476, 74.116116524), (-82.954951288, 81.187184335))
            ThreePointArc((-82.954951288, 81.187184335), (-82.954951288, 82.954951288), (-81.187184335, 82.954951288))
        make_face()
        with BuildLine():
            Line((-59.9739809, 61.741747853), (-52.902913088, 54.670680041))
            ThreePointArc((-52.902913088, 54.670680041), (-52.902913088, 52.902913088), (-54.670680041, 52.902913088))
            Line((-54.670680041, 52.902913088), (-61.741747853, 59.9739809))
            ThreePointArc((-61.741747853, 59.9739809), (-61.741747853, 61.741747853), (-59.9739809, 61.741747853))
        make_face()
    cut_extrude_15 = extrude(amount=-CUT_EXTRUDE_15_DEPTH, mode=Mode.SUBTRACT)

    # 阵列(圆周)1: 切除-拉伸15 ×8 about axis
    pattern_circular_1_axis = Axis((-67.928932188, 0, -67.928932188), (0, 1, 0))
    for i in range(1, PATTERN_CIRCULAR_1_COUNT):
        add(cut_extrude_15.rotate(pattern_circular_1_axis, i * 360 / PATTERN_CIRCULAR_1_COUNT), mode=Mode.SUBTRACT)

    # 草图22 → 切除-拉伸17 (cut)
    with BuildSketch(Plane(origin=(0, 3, 0), x_dir=(1, 0, 0), z_dir=(0, 1, 0))):
        with Locations(Location((9.899494937, 9.899494937, 0), (0, 0, 270))):
            Circle(SKETCH_22_R)
        with Locations(Location((-9.899494937, -9.899494937, 0), (0, 0, 270))):
            Circle(SKETCH_22_R)
    extrude(amount=-CUT_EXTRUDE_17_DEPTH, mode=Mode.SUBTRACT)

    # 草图23 → 切除-拉伸18 (cut)
    with BuildSketch(Plane(origin=(0, 3, 0), x_dir=(1, 0, 0), z_dir=(0, 1, 0))):
        with Locations(Location((0, 30, 0), (0, 0, 270))):
            Circle(SKETCH_23_R)
        with Locations(Location((30, 0, 0), (0, 0, 270))):
            Circle(SKETCH_23_R)
        with Locations(Location((0, -30, 0), (0, 0, 270))):
            Circle(SKETCH_23_R)
        with Locations(Location((-30, 0, 0), (0, 0, 270))):
            Circle(SKETCH_23_R)
    extrude(amount=-CUT_EXTRUDE_18_DEPTH, mode=Mode.SUBTRACT)

    # 草图24 → 切除-拉伸19 (cut)
    with BuildSketch(Plane(origin=(0, 3, 0), x_dir=(1, 0, 0), z_dir=(0, 1, 0))):
        with Locations(Location((-15, -15, 0), (0, 0, 270))):
            Circle(SKETCH_24_R)
        with Locations(Location((15, 15, 0), (0, 0, 270))):
            Circle(SKETCH_24_R)
    extrude(amount=-CUT_EXTRUDE_19_DEPTH, mode=Mode.SUBTRACT)


solid = part.part
